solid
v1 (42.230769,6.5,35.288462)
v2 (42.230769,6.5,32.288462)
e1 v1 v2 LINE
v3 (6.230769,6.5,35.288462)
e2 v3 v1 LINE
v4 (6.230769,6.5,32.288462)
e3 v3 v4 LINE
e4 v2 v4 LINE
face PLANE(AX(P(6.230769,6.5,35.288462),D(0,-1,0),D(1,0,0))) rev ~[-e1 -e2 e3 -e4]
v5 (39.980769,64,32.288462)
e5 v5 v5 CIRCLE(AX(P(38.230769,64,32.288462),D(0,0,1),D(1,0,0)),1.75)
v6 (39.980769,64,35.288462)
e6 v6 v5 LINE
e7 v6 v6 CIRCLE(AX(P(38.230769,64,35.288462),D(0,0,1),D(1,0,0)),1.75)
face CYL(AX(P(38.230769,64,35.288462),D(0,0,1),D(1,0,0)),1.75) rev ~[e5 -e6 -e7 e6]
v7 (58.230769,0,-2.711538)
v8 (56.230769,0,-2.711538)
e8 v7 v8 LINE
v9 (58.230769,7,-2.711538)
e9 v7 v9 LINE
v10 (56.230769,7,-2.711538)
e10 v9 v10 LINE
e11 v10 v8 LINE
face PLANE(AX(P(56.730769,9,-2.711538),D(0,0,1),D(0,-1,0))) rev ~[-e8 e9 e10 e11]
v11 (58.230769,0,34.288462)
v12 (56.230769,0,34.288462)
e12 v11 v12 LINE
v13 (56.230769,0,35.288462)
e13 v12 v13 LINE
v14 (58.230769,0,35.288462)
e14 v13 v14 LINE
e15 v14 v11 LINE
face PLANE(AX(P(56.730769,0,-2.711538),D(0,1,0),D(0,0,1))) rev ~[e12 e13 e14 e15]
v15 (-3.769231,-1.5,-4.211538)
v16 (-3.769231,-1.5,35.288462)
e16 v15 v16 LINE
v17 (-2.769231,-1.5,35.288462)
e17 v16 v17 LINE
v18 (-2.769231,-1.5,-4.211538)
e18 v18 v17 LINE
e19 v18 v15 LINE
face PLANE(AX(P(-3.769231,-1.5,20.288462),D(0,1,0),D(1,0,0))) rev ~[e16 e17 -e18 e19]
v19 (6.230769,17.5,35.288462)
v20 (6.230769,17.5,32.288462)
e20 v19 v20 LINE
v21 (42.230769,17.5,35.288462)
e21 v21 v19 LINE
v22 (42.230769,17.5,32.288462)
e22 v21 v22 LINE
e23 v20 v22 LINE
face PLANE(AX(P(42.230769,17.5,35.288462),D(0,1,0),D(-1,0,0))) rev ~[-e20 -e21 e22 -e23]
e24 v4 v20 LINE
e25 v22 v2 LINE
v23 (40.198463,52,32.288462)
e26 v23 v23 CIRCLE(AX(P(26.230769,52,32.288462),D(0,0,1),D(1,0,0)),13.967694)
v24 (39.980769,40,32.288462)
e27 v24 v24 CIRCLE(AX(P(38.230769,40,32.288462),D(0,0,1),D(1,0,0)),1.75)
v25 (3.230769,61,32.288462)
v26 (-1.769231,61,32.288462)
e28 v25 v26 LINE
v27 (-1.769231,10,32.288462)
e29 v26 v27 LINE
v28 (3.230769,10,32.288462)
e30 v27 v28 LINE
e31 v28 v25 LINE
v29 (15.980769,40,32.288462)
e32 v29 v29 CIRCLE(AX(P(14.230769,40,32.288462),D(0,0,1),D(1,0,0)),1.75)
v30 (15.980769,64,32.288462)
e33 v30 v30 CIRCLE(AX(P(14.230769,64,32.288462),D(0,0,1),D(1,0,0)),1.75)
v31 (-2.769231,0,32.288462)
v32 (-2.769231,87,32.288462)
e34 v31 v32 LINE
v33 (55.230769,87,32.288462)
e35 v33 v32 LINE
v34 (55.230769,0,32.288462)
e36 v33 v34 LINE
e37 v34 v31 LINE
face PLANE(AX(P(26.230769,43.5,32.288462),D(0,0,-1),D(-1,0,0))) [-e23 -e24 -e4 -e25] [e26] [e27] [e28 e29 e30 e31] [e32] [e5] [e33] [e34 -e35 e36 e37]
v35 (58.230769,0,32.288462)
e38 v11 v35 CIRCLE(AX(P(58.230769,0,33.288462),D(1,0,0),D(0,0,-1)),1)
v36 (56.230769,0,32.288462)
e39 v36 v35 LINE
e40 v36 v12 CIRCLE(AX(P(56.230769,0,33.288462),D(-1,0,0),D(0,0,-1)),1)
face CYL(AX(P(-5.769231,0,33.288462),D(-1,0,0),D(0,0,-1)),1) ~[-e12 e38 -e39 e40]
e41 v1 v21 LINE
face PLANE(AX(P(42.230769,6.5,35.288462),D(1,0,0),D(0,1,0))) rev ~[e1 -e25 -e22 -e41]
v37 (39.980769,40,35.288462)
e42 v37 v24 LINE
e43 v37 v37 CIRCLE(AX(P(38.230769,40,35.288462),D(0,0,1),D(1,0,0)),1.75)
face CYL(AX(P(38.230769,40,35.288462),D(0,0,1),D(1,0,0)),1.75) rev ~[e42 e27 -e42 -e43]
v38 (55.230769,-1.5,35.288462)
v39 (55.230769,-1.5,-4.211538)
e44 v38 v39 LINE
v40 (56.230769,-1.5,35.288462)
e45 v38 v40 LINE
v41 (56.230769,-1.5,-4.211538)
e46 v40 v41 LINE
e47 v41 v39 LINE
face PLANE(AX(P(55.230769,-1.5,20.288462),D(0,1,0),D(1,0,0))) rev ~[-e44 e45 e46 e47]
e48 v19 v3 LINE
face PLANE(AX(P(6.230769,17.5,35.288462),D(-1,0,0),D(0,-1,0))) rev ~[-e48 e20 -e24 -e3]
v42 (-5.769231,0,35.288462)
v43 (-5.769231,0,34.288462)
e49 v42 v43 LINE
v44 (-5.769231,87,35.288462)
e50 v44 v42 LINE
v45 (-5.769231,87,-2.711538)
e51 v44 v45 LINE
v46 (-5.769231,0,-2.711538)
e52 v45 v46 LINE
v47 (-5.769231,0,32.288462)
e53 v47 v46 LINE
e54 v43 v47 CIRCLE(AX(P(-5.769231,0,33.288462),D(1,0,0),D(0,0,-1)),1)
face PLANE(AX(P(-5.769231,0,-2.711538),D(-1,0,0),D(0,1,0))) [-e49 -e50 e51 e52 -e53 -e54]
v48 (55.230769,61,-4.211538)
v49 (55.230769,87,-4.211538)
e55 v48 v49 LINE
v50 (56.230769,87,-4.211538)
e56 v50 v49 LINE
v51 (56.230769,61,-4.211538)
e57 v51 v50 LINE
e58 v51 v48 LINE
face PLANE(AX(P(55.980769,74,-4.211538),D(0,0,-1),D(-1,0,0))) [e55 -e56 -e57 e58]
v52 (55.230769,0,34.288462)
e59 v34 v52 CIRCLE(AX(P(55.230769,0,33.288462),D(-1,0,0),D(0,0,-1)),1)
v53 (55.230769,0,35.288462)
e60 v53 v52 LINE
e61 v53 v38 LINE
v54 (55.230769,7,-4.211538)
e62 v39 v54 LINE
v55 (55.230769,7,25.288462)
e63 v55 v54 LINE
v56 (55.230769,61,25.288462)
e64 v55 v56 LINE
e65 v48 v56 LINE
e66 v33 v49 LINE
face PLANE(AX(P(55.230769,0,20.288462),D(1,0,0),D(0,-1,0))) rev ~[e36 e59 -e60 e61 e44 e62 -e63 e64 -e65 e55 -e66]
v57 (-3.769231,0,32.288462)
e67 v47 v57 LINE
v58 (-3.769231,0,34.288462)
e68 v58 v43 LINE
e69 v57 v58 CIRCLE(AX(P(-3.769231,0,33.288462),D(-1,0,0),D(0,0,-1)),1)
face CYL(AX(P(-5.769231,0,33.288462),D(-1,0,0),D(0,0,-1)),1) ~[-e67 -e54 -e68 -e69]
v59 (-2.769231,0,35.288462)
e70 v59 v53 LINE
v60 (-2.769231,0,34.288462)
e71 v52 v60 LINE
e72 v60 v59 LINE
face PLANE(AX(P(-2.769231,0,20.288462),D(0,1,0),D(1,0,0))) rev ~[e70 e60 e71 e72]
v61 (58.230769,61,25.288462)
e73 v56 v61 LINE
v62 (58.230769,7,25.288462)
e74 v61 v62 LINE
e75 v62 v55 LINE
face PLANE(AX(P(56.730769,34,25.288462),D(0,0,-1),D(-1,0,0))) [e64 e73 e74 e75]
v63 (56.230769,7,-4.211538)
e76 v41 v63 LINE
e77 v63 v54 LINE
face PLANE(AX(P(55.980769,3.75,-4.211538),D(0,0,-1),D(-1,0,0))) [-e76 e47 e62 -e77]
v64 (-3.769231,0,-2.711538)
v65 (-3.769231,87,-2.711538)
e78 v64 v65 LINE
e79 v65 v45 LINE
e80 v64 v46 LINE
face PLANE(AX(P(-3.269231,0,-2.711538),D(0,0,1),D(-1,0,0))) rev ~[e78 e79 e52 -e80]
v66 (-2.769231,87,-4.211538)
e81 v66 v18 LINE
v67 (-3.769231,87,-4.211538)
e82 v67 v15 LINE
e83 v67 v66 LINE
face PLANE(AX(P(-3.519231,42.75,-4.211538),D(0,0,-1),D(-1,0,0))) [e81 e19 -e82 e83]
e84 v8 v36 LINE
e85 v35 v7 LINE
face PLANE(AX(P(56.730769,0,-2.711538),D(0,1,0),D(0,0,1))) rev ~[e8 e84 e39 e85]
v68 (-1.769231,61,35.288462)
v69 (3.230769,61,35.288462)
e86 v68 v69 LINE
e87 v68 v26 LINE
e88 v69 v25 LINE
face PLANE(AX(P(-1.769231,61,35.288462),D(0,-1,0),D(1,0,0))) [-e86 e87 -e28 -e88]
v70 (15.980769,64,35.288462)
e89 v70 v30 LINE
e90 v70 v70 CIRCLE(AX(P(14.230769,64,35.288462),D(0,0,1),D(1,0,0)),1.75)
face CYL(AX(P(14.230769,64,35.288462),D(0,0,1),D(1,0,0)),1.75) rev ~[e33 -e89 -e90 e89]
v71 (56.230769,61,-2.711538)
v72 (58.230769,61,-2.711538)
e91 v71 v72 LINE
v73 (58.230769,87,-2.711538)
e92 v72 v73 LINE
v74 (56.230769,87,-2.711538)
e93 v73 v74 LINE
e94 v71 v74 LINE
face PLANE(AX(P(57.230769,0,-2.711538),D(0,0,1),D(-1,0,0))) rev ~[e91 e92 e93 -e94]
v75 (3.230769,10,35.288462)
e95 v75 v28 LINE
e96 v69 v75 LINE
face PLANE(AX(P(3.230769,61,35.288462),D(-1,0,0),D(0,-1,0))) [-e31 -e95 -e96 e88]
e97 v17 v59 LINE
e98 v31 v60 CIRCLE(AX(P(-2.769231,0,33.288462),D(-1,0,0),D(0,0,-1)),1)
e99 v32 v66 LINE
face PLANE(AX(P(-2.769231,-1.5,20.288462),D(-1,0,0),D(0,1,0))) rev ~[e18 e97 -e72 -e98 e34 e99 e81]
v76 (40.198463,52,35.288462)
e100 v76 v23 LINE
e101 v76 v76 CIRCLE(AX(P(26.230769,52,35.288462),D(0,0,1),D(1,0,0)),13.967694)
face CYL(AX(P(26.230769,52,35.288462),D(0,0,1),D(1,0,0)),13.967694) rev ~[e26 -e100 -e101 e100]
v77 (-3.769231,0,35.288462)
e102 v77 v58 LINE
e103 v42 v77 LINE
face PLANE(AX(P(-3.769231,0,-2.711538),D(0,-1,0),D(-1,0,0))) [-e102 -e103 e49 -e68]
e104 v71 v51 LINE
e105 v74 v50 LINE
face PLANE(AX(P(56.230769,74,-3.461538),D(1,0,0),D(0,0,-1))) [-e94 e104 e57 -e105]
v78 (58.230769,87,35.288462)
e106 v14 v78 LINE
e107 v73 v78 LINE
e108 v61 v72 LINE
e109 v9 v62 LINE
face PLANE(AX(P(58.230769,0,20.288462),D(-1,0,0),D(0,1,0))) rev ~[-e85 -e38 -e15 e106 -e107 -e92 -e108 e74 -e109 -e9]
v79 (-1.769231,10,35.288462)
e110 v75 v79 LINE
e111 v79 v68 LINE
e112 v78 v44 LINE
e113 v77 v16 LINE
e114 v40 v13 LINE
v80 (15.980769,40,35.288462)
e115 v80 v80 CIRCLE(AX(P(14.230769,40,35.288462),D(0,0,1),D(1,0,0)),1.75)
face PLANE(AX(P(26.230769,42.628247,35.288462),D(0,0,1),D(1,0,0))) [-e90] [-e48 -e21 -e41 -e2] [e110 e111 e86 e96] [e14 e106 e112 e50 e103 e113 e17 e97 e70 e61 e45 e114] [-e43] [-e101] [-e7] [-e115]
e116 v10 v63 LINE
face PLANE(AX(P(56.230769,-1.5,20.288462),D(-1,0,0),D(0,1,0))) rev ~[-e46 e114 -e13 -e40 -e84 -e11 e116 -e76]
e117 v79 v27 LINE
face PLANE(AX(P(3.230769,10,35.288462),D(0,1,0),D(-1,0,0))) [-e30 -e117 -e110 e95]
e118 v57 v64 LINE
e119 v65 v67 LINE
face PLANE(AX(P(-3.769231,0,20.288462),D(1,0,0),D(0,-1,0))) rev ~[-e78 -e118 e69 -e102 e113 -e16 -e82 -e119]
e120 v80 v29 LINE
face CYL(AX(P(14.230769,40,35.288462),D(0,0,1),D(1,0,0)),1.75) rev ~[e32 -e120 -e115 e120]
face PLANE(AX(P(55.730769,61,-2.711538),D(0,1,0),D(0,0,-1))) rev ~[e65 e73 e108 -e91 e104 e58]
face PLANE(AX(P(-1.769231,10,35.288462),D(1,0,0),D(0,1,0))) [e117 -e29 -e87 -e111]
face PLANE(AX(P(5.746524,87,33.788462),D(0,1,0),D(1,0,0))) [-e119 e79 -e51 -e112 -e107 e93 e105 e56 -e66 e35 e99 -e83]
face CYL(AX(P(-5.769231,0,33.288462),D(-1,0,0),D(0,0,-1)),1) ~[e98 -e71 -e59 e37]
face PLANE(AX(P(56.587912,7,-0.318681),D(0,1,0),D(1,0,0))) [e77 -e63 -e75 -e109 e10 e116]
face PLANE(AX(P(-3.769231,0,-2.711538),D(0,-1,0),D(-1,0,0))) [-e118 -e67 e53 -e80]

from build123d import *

# Parameters (mm, degrees)
EXTRUDE_1_DEPTH      = 88
SKETCH_3_W           = 1.5000000000000007
SKETCH_3_H           = 22
SKETCH_3_W_2         = 1.5
EXTRUDE_2_DEPTH      = 3
CUT_EXTRUDE_1_DEPTH  = 13.000000000000005
CUT_EXTRUDE_2_DEPTH  = 6
SKETCH_7_W           = 1.5
SKETCH_7_H           = 3
SKETCH_7_W_2         = 1.5000000000000007
EXTRUDE_4_DEPTH      = 3
EXTRUDE_START        = -62
SKETCH_6_R           = 1.0000000000000016
EXTRUDE_7_DEPTH      = 62
EXTRUDE_START_2      = 1
EXTRUDE_8_DEPTH      = 1
EXTRUDE_9_DEPTH      = 1
EXTRUDE_10_DEPTH     = 1
EXTRUDE_11_DEPTH     = 1
EXTRUDE_12_DEPTH     = 1
CUT_EXTRUDE_3_DEPTH  = 1
CUT_EXTRUDE_START    = -1
CUT_EXTRUDE_4_DEPTH  = 1
CUT_EXTRUDE_5_DEPTH  = 1
SKETCH_16_W          = 1.500000000000007
SKETCH_16_H          = 25
CUT_EXTRUDE_6_DEPTH  = 1
SKETCH_17_W          = 1.5000000000000004
SKETCH_17_H          = 90
CUT_EXTRUDE_7_DEPTH  = 1
CUT_EXTRUDE_8_DEPTH  = 1
SKETCH_19_W          = 1.500000000000007
SKETCH_19_H          = 26.999999999999993
CUT_EXTRUDE_9_DEPTH  = 1
EXTRUDE_13_DEPTH     = 1
CUT_EXTRUDE_10_DEPTH = 1
CUT_EXTRUDE_11_DEPTH = 1
CUT_EXTRUDE_12_DEPTH = 0.5
CUT_EXTRUDE_13_DEPTH = 0.5
CUT_EXTRUDE_14_DEPTH = 0.5
SKETCH_26_W          = 1.500000000000007
SKETCH_26_H          = 25.999999999999993
CUT_EXTRUDE_15_DEPTH = 0.5
CUT_EXTRUDE_16_DEPTH = 0.5
CUT_EXTRUDE_START_2  = -0.5
CUT_EXTRUDE_17_DEPTH = 0.5
SKETCH_29_W          = 1.4999999999999991
SKETCH_29_H          = 25.999999999999993
CUT_EXTRUDE_18_DEPTH = 0.5
CUT_EXTRUDE_19_DEPTH = 0.5
EXTRUDE_14_DEPTH     = 15
CUT_EXTRUDE_20_DEPTH = 15
SKETCH_33_R          = 1.0000000000000016
CUT_EXTRUDE_21_DEPTH = 114.62339335608438
CUT_EXTRUDE_22_DEPTH = 2
EXTRUDE_15_DEPTH     = 26.00000000000001
EXTRUDE_16_DEPTH     = 26.00000000000001
SKETCH_37_W          = 2.0000000000000004
SKETCH_37_H          = 87
EXTRUDE_17_DEPTH     = 26.00000000000001
EXTRUDE_18_DEPTH     = 28.000000000000025
SKETCH_40_R          = 1.7500000000000038
SKETCH_40_R_2        = 13.967693526781561
SKETCH_40_R_3        = 4.000000000000002
SKETCH_40_R_4        = 4
CUT_EXTRUDE_23_DEPTH = 28.000000000000025
CUT_EXTRUDE_25_DEPTH = 22.000000000000007
SKETCH_43_W          = 11.493047427713066
SKETCH_43_H          = 3
SKETCH_43_W_2        = 11.493047427713059
EXTRUDE_19_DEPTH     = 73.00000000000001
CUT_EXTRUDE_26_DEPTH = 73.00000000000001
EXTRUDE_START_3      = -64
SKETCH_45_R          = 0.9999999999999983
EXTRUDE_21_DEPTH     = 64


with BuildPart() as part:
    # 草图2 → 凸台-拉伸1 (new body)
    with BuildSketch(Plane(origin=(0, 0, 0), x_dir=(1, 0, 0), z_dir=(0, 1, 0))):
        Polygon((-3.2692307692307776, 5.711538461538465), (-3.269230769230777, 2.711538461538465), (-4.769230769230776, 2.711538461538465), (-4.7692307692307745, -19.288461538461533), (57.230769230769226, -19.288461538461533), (57.230769230769226, 2.7115384615384723), (55.73076923076922, 2.7115384615384723), (55.73076923076922, 5.711538461538472), (54.23076923076922, 5.711538461538473), (54.23076923076922, -16.288461538461526), (-1.7692307692307774, -16.288461538461533), (-1.7692307692307776, 5.711538461538466), align=None)
    extrude(amount=EXTRUDE_1_DEPTH)

    # 草图3 → 凸台-拉伸2 (add)
    with BuildSketch(Plane.XZ):
        with Locations((-2.5192307692307776, 5.288461538461534)):
            Rectangle(SKETCH_3_W, SKETCH_3_H)
        with Locations((54.98076923076922, 5.288461538461534)):
            Rectangle(SKETCH_3_W_2, SKETCH_3_H)
    extrude(amount=EXTRUDE_2_DEPTH)

    # 草图4 → 切除-拉伸1 (cut)
    with BuildSketch(Plane(origin=(0, 0, -2.7115384615384723), x_dir=(-1, 0, 0), z_dir=(0, 0, -1))):
        Polygon((-55.73076923076922, 16.689999999999998), (-54.23076923076922, 16.69), (-54.23076923076922, 44.69), (-55.73076923076922, 44.69), align=None)
    extrude(amount=CUT_EXTRUDE_1_DEPTH, mode=Mode.SUBTRACT)

    # 草图5 → 切除-拉伸2 (cut, symmetric)
    with BuildSketch(Plane(origin=(0, 0, -2.7115384615384723), x_dir=(-1, 0, 0), z_dir=(0, 0, -1))):
        Polygon((-57.230769230769226, 8.999999999999995), (-54.23076923076922, 8.999999999999998), (-54.23076923076922, 61), (-57.230769230769226, 61), align=None)
    extrude(amount=CUT_EXTRUDE_2_DEPTH, both=True, mode=Mode.SUBTRACT)

    # 草图7 → 凸台-拉伸4 (add)
    with BuildSketch(Plane.XY.offset(16.288461538461533)):
        with Locations((54.98076923076922, -1.5)):
            Rectangle(SKETCH_7_W, SKETCH_7_H)
        with Locations((-2.5192307692307776, -1.5)):
            Rectangle(SKETCH_7_W_2, SKETCH_7_H)
    extrude(amount=EXTRUDE_4_DEPTH)

    # 草图6 → 凸台-拉伸7 (add)
    with BuildSketch(Plane.ZY.offset(4.769230769230776).offset(EXTRUDE_START)):
        with Locations((17.28846154, 0)):
            Circle(SKETCH_6_R)
    extrude(amount=EXTRUDE_7_DEPTH)

    # 草图8 → 凸台-拉伸8 (add)
    with BuildSketch(Plane(origin=(57.230769230769226, 0, 0), x_dir=(0, 0, -1), z_dir=(1, 0, 0)).offset(EXTRUDE_START_2)):
        with BuildLine():
            Line((-19.288461538461533, 0), (-18.28846154, 0))
            ThreePointArc((-18.28846154, 0), (-17.288461539999997, -1.0000000000000036), (-16.288461539999997, 0))
            Line((-16.288461539999997, 0), (2.7115384615384723, 0))
            Line((2.7115384615384723, 0), (2.7115384615384723, 8.999999999999995))
            Line((2.7115384615384723, 8.999999999999995), (-3.288461538461528, 8.999999999999995))
            Line((-3.288461538461528, 8.999999999999995), (-3.288461538461528, 61))
            Line((-3.288461538461528, 61), (2.711538461538472, 61))
            Line((2.711538461538472, 61), (2.7115384615384723, 88))
            Line((2.7115384615384723, 88), (-19.288461538461533, 88))
            Line((-19.288461538461533, 88), (-19.288461538461533, 0))
        make_face()
    extrude(amount=-EXTRUDE_8_DEPTH)

    # 草图9 → 凸台-拉伸9 (add)
    with BuildSketch(Plane.ZY.offset(4.769230769230776)):
        with BuildLine():
            Line((-2.7115384615384652, 0), (16.28846154, 0))
            ThreePointArc((16.28846154, 0), (17.28846154, -1), (18.288461540000004, 0))
            Line((18.288461540000004, 0), (19.288461538461533, 0))
            Line((19.288461538461533, 0), (19.288461538461533, 88))
            Line((19.288461538461533, 88), (-2.7115384615384652, 88))
            Line((-2.7115384615384652, 88), (-2.7115384615384652, 0))
        make_face()
    extrude(amount=EXTRUDE_9_DEPTH)

    # 草图10 → 凸台-拉伸10 (add)
    with BuildSketch(Plane.ZY.offset(3.2692307692307767)):
        with BuildLine():
            Line((19.288461538461533, 0), (18.288461540000004, 0))
            ThreePointArc((18.288461540000004, 0), (17.28846154, -1), (16.28846154, 1.2e-16))
            Line((16.28846154, 1.2e-16), (-2.7115384615384652, 0))
            Line((-2.7115384615384652, 0), (-2.7115384615384652, 88))
            Line((-2.7115384615384652, 88), (-5.711538461538466, 88))
            Line((-5.711538461538466, 88), (-5.711538461538466, -3))
            Line((-5.711538461538466, -3), (19.288461538461533, -3))
            Line((19.288461538461533, -3), (19.288461538461533, 0))
        make_face()
    extrude(amount=EXTRUDE_10_DEPTH)

    # 草图11 → 凸台-拉伸11 (add)
    with BuildSketch(Plane(origin=(55.73076923076922, 0, 0), x_dir=(0, 0, -1), z_dir=(1, 0, 0)).offset(EXTRUDE_START_2)):
        with BuildLine():
            Line((2.7115384615384723, 0), (-16.288461539999997, 0))
            ThreePointArc((-16.288461539999997, 0), (-17.288461539999997, -1.0000000000000036), (-18.28846154, 1.2e-16))
            Line((-18.28846154, 1.2e-16), (-19.288461538461533, 0))
            Line((-19.288461538461533, 0), (-19.288461538461533, -3))
            Line((-19.288461538461533, -3), (5.711538461538465, -3))
            Line((5.711538461538465, -3), (5.711538461538476, 8.999999999999995))
            Line((5.711538461538476, 8.999999999999995), (2.7115384615384723, 8.999999999999996))
            Line((2.7115384615384723, 8.999999999999996), (2.7115384615384723, 0))
        make_face()
    extrude(amount=-EXTRUDE_11_DEPTH)

    # 草图12 → 凸台-拉伸12 (add)
    with BuildSketch(Plane(origin=(55.73076923076922, 0, 0), x_dir=(0, 0, -1), z_dir=(1, 0, 0))):
        Polygon((2.7115384615384723, 88), (2.7115384615384723, 61), (5.711538461538476, 61), (5.711538461538472, 88), align=None)
    extrude(amount=EXTRUDE_12_DEPTH)

    # 草图13 → 切除-拉伸3 (cut)
    with BuildSketch(Plane(origin=(-1.7692307692307776, 0, 3e-17), x_dir=(-2e-17, 0, -1), z_dir=(1, 0, -2e-17))):
        with BuildLine():
            Line((-16.288461538461533, 88), (-16.28846154, 0))
            ThreePointArc((-16.28846154, 0), (-17.28846154, -1.0000000000000036), (-18.288461540000004, 1.2e-16))
            Line((-18.288461540000004, 1.2e-16), (-19.288461538461533, 0))
            Line((-19.288461538461533, 0), (-19.288461538461533, -3))
            Line((-19.288461538461533, -3), (5.711538461538465, -3))
            Line((5.711538461538465, -3), (5.711538461538466, 88))
            Line((5.711538461538466, 88), (-16.288461538461533, 88))
        make_face()
    extrude(amount=-CUT_EXTRUDE_3_DEPTH, mode=Mode.SUBTRACT)

    # 草图14 → 切除-拉伸4 (cut)
    with BuildSketch(Plane.ZY.offset(-54.23076923076922).offset(CUT_EXTRUDE_START)):
        with BuildLine():
            Line((19.288461538461533, 0), (18.28846154, 0))
            ThreePointArc((18.28846154, 0), (17.288461539999997, -1.0000000003846203), (16.288461539615376, 1.2e-16))
            Line((16.288461539615376, 1.2e-16), (16.288461538461526, 88))
            Line((16.288461538461526, 88), (-5.711538461538473, 88))
            Line((-5.711538461538473, 88), (-5.711538461538476, 61))
            Line((-5.711538461538476, 61), (3.288461538461528, 61))
            Line((3.288461538461528, 61), (3.288461538461528, 8.999999999999998))
            Line((3.288461538461528, 8.999999999999998), (-5.711538461538476, 8.999999999999998))
            Line((-5.711538461538476, 8.999999999999998), (-5.711538461538465, -3))
            Line((-5.711538461538465, -3), (19.288461538461533, -3))
            Line((19.288461538461533, -3), (19.288461538461533, 0))
        make_face()
    extrude(amount=CUT_EXTRUDE_4_DEPTH, mode=Mode.SUBTRACT)

    # 草图15 → 切除-拉伸5 (cut)
    with BuildSketch(Plane.XZ.offset(3)):
        Polygon((-2.7692307692307776, -5.711538461538465), (-2.769230769230777, 19.288461538461533), (-4.2692307692307745, 19.288461538461533), (-4.269230769230778, -5.711538461538465), align=None)
    extrude(amount=-CUT_EXTRUDE_5_DEPTH, mode=Mode.SUBTRACT)

    # 草图16 → 切除-拉伸6 (cut)
    with BuildSketch(Plane.XZ.offset(3)):
        with Locations((55.980769230769226, 6.788461538461534)):
            Rectangle(SKETCH_16_W, SKETCH_16_H)
    extrude(amount=-CUT_EXTRUDE_6_DEPTH, mode=Mode.SUBTRACT)

    # 草图17 → 切除-拉伸7 (cut)
    with BuildSketch(Plane(origin=(-3.3e-15, 0, -5.711538461538467), x_dir=(-1, 0, 5.8e-16), z_dir=(-5.8e-16, 0, -1))):
        with Locations((3.5192307692307745, 43)):
            Rectangle(SKETCH_17_W, SKETCH_17_H)
    extrude(amount=-CUT_EXTRUDE_7_DEPTH, mode=Mode.SUBTRACT)

    # 草图18 → 切除-拉伸8 (cut)
    with BuildSketch(Plane(origin=(3.3e-15, 0, -5.711538461538505), x_dir=(-1, 0, -5.8e-16), z_dir=(5.8e-16, 0, -1))):
        Polygon((-56.730769230769226, -2), (-55.23076923076922, -2), (-55.23076923076922, 8.999999999999998), (-56.730769230769226, 8.999999999999995), align=None)
    extrude(amount=-CUT_EXTRUDE_8_DEPTH, mode=Mode.SUBTRACT)

    # 草图19 → 切除-拉伸9 (cut)
    with BuildSketch(Plane(origin=(3.3e-15, 0, -5.711538461538505), x_dir=(-1, 0, -5.8e-16), z_dir=(5.8e-16, 0, -1))):
        with Locations((-55.980769230769226, 74.5)):
            Rectangle(SKETCH_19_W, SKETCH_19_H)
    extrude(amount=-CUT_EXTRUDE_9_DEPTH, mode=Mode.SUBTRACT)

    # 草图20 → 凸台-拉伸13 (add)
    with BuildSketch(Plane.XY.offset(19.288461538461533)):
        Polygon((55.23076923076922, -2), (56.730769230769226, -2), (56.730769230769226, 0), (58.230769230769226, 0), (58.230769230769226, 88), (-5.7692307692307745, 88), (-5.7692307692307745, 0), (-4.2692307692307745, 0), (-4.2692307692307745, -2), (-2.769230769230777, -2), (-2.769230769230777, 0), (55.23076923076922, 0), align=None)
    extrude(amount=EXTRUDE_13_DEPTH)

    # 草图21 → 切除-拉伸10 (cut)
    with BuildSketch(Plane(origin=(2.02e-15, 0, 16.288461538461533), x_dir=(-1, 0, 1.2e-16), z_dir=(-1.2e-16, 0, -1))):
        Polygon((-55.23076923076922, 1.2e-16), (2.7692307692307794, 0), (2.7692307692307794, 88), (-55.23076923076922, 88), align=None)
    extrude(amount=-CUT_EXTRUDE_10_DEPTH, mode=Mode.SUBTRACT)

    # 草图22 → 切除-拉伸11 (cut)
    with BuildSketch(Plane(origin=(0, 88, 0), x_dir=(1, 0, 0), z_dir=(0, 1, 0))):
        Polygon((55.23076923076922, 4.711538461538472), (55.23076923076922, -17.288461538461526), (-2.769230769230777, -17.288461538461533), (-2.769230769230777, 4.711538461538465), (-4.269230769230777, 4.711538461538464), (-4.269230769230776, 2.711538461538465), (-5.769230769230776, 2.711538461538465), (-5.7692307692307745, -20.288461538461533), (58.230769230769226, -20.288461538461533), (58.230769230769226, 2.7115384615384723), (56.730769230769226, 2.7115384615384723), (56.730769230769226, 4.7115384615384714), align=None)
    extrude(amount=-CUT_EXTRUDE_11_DEPTH, mode=Mode.SUBTRACT)

    # 草图23 → 切除-拉伸12 (cut)
    with BuildSketch(Plane.XZ.offset(2)):
        Polygon((-4.2692307692307745, 20.288461538461533), (-4.269230769230777, -4.711538461538464), (-2.7692307692307776, -4.711538461538465), (-2.769230769230777, 20.288461538461533), align=None)
    extrude(amount=-CUT_EXTRUDE_12_DEPTH, mode=Mode.SUBTRACT)

    # 草图24 → 切除-拉伸13 (cut)
    with BuildSketch(Plane.XZ.offset(2)):
        Polygon((55.23076923076922, 20.288461538461533), (55.23076923076922, -4.711538461538472), (56.730769230769226, -4.7115384615384714), (56.730769230769226, 20.288461538461533), align=None)
    extrude(amount=-CUT_EXTRUDE_13_DEPTH, mode=Mode.SUBTRACT)

    # 草图25 → 切除-拉伸14 (cut)
    with BuildSketch(Plane(origin=(-2.72e-15, 0, -4.711538461538467), x_dir=(-1, 0, 5.8e-16), z_dir=(-5.8e-16, 0, -1))):
        Polygon((2.7692307692307745, 87), (2.769230769230775, -1.5), (4.2692307692307745, -1.5), (4.2692307692307745, 87), align=None)
    extrude(amount=-CUT_EXTRUDE_14_DEPTH, mode=Mode.SUBTRACT)

    # 草图26 → 切除-拉伸15 (cut)
    with BuildSketch(Plane(origin=(2.72e-15, 0, -4.711538461538505), x_dir=(-1, 0, -5.8e-16), z_dir=(5.8e-16, 0, -1))):
        with Locations((-55.980769230769226, 74)):
            Rectangle(SKETCH_26_W, SKETCH_26_H)
    extrude(amount=-CUT_EXTRUDE_15_DEPTH, mode=Mode.SUBTRACT)

    # 草图27 → 切除-拉伸16 (cut)
    with BuildSketch(Plane(origin=(2.72e-15, 0, -4.711538461538505), x_dir=(-1, 0, -5.8e-16), z_dir=(5.8e-16, 0, -1))):
        Polygon((-56.730769230769226, 8.999999999999995), (-56.730769230769226, -1.5), (-55.23076923076922, -1.5), (-55.23076923076922, 8.999999999999998), align=None)
    extrude(amount=-CUT_EXTRUDE_16_DEPTH, mode=Mode.SUBTRACT)

    # 草图28 → 切除-拉伸17 (cut)
    with BuildSketch(Plane.ZY.offset(4.269230769230777).offset(CUT_EXTRUDE_START_2)):
        with BuildLine():
            Line((-2.7115384615384652, 87), (-4.211538461538465, 87))
            Line((-4.211538461538465, 87), (-4.211538461538465, -1.5))
            Line((-4.211538461538465, -1.5), (20.288461538461533, -1.5))
            Line((20.288461538461533, -1.5), (20.288461538461533, 0))
            Line((20.288461538461533, 0), (18.288461540000004, 0))
            ThreePointArc((18.288461540000004, 0), (17.28846154, -1), (16.28846154, 1.2e-16))
            Line((16.28846154, 1.2e-16), (-2.7115384615384652, 0))
            Line((-2.7115384615384652, 0), (-2.7115384615384652, 87))
        make_face()
    extrude(amount=CUT_EXTRUDE_17_DEPTH, mode=Mode.SUBTRACT)

    # 草图29 → 切除-拉伸18 (cut)
    with BuildSketch(Plane(origin=(56.730769230769226, 0, 0), x_dir=(0, 0, -1), z_dir=(1, 0, 0))):
        with Locations((3.461538461538472, 74)):
            Rectangle(SKETCH_29_W, SKETCH_29_H)
    extrude(amount=-CUT_EXTRUDE_18_DEPTH, mode=Mode.SUBTRACT)

    # 草图30 → 切除-拉伸19 (cut)
    with BuildSketch(Plane(origin=(56.730769230769226, 0, 0), x_dir=(0, 0, -1), z_dir=(1, 0, 0))):
        with BuildLine():
            Line((-20.288461538461533, -1.5), (4.2115384615384714, -1.5))
            Line((4.2115384615384714, -1.5), (4.2115384615384714, 8.999999999999995))
            Line((4.2115384615384714, 8.999999999999995), (2.7115384615384723, 8.999999999999995))
            Line((2.7115384615384723, 8.999999999999995), (2.7115384615384723, 0))
            Line((2.7115384615384723, 0), (-16.288461539999997, 0))
            ThreePointArc((-16.288461539999997, 0), (-17.288461539999997, -1.0000000000000036), (-18.28846154, 1.2e-16))
            Line((-18.28846154, 1.2e-16), (-20.288461538461533, 0))
            Line((-20.288461538461533, 0), (-20.288461538461533, -1.5))
        make_face()
    extrude(amount=-CUT_EXTRUDE_19_DEPTH, mode=Mode.SUBTRACT)

    # 草图31 → 凸台-拉伸14 (add)
    with BuildSketch(Plane.XY.offset(20.288461538461533)):
        Polygon((56.230769230769226, -1.5), (56.230769230769226, 0), (58.230769230769226, 0), (58.230769230769226, 87), (-5.7692307692307745, 87), (-5.7692307692307745, 0), (-3.7692307692307745, 0), (-3.7692307692307745, -1.5), (-2.769230769230777, -1.5), (-2.769230769230777, 0), (55.23076923076922, 0), (55.23076923076922, -1.5), align=None)
    extrude(amount=EXTRUDE_14_DEPTH)

    # 草图32 → 切除-拉伸20 (cut)
    with BuildSketch(Plane(origin=(2.07e-15, 0, 17.288461538461533), x_dir=(-1, 0, 1.2e-16), z_dir=(-1.2e-16, 0, -1))):
        Polygon((2.7692307692307794, 0), (2.7692307692307794, 87), (-55.23076923076922, 87), (-55.23076923076922, 1.2e-16), align=None)
    extrude(amount=-CUT_EXTRUDE_20_DEPTH, mode=Mode.SUBTRACT)

    # 草图33 → 切除-拉伸21 (cut, through all)
    with BuildSketch(Plane.ZY.offset(5.769230769230776)):
        with Locations((17.28846154, 0)):
            Circle(SKETCH_33_R)
    extrude(amount=-CUT_EXTRUDE_21_DEPTH, mode=Mode.SUBTRACT)

    # 草图34 → 切除-拉伸22 (cut)
    with BuildSketch(Plane(origin=(1.041e-14, 9.00000000000006, 0), x_dir=(1, -1.16e-15, 0), z_dir=(1.16e-15, 1, 0))):
        Polygon((58.23076923076922, 2.7115384615384723), (56.23076923076922, 2.7115384615384723), (56.23076923076922, 4.2115384615384714), (55.23076923076921, 4.211538461538473), (55.23076923076921, -3.288461538461528), (58.23076923076922, -3.288461538461528), align=None)
    extrude(amount=-CUT_EXTRUDE_22_DEPTH, mode=Mode.SUBTRACT)

    # 草图35 → 凸台-拉伸15 (add)
    with BuildSketch(Plane(origin=(0, 0, -2.7115384615384723), x_dir=(-1, 0, 0), z_dir=(0, 0, -1))):
        Polygon((-56.230769230769226, 6.999999999999996), (-58.23076923076923, 6.999999999999992), (-58.230769230769226, 0), (-56.230769230769226, 0), align=None)
    extrude(amount=-EXTRUDE_15_DEPTH)

    # 草图36 → 凸台-拉伸16 (add)
    with BuildSketch(Plane(origin=(2.44e-15, 0, -4.211538461538504), x_dir=(-1, 0, -5.8e-16), z_dir=(5.8e-16, 0, -1))):
        Polygon((-55.23076923076922, -1.5), (-55.230769230769226, 6.999999999999996), (-56.23076923076923, 6.999999999999996), (-56.230769230769226, -1.5), align=None)
    extrude(amount=-EXTRUDE_16_DEPTH)

    # 草图37 → 凸台-拉伸17 (add)
    with BuildSketch(Plane(origin=(0, 0, -2.711538461538465), x_dir=(-1, 0, 0), z_dir=(0, 0, -1))):
        with Locations((4.769230769230777, 43.5)):
            Rectangle(SKETCH_37_W, SKETCH_37_H)
    extrude(amount=-EXTRUDE_17_DEPTH)

    # 草图38 → 凸台-拉伸18 (add)
    with BuildSketch(Plane(origin=(-2.44e-15, 0, -4.211538461538466), x_dir=(-1, 0, 5.8e-16), z_dir=(-5.8e-16, 0, -1))):
        Polygon((2.769230769230775, -1.5), (3.769230769230775, -1.5), (3.7692307692307745, 87), (2.769230769230774, 87), align=None)
    extrude(amount=-EXTRUDE_18_DEPTH)

    # 草图40 → 切除-拉伸23 (cut)
    with BuildSketch(Plane.XY.offset(35.28846153846153)):
        with Locations((38.23076923076923, 64)):
            Circle(SKETCH_40_R)
        with Locations((38.23076923076923, 40.00000000000002)):
            Circle(SKETCH_40_R)
        with Locations((14.23076923076921, 40.00000000000002)):
            Circle(SKETCH_40_R)
        with Locations((14.23076923076921, 64)):
            Circle(SKETCH_40_R)
        with Locations((26.230769230769226, 52.000000000000014)):
            Circle(SKETCH_40_R_2)
        with Locations((6.236788059331033, 52.000000000000014)):
            Circle(SKETCH_40_R_3)
        with Locations((6.236788059331033, 75.99999999999999)):
            Circle(SKETCH_40_R_3)
        with Locations((6.236788059331033, 28.000000000000032)):
            Circle(SKETCH_40_R_3)
        with Locations((46.224750402207405, 28.000000000000032)):
            Circle(SKETCH_40_R_4)
        with Locations((46.22475040220741, 52.000000000000014)):
            Circle(SKETCH_40_R_4)
        with Locations((46.22475040220741, 75.99999999999999)):
            Circle(SKETCH_40_R_4)
    extrude(amount=-CUT_EXTRUDE_23_DEPTH, mode=Mode.SUBTRACT)

    # 草图41 → 切除-拉伸25 (cut)
    with BuildSketch(Plane(origin=(0, 0, 3.288461538461528), x_dir=(-1, 0, 0), z_dir=(0, 0, -1))):
        Polygon((-55.230769230769226, 6.999999999999996), (-55.23076923076922, 61), (-58.230769230769226, 61), (-58.23076923076923, 6.999999999999992), align=None)
    extrude(amount=-CUT_EXTRUDE_25_DEPTH, mode=Mode.SUBTRACT)

    # 草图43 → 凸台-拉伸19 (add)
    with BuildSketch(Plane(origin=(0, 87, 0), x_dir=(1, 0, 0), z_dir=(0, 1, 0))):
        with Locations((5.746523713856533, -33.78846153846153)):
            Rectangle(SKETCH_43_W, SKETCH_43_H)
        with Locations((46.95722324843743, -33.78846153846153)):
            Rectangle(SKETCH_43_W_2, SKETCH_43_H)
    extrude(amount=-EXTRUDE_19_DEPTH)

    # 草图44 → 切除-拉伸26 (cut)
    with BuildSketch(Plane.XY.offset(35.28846153846153)):
        Polygon((42.23076923076923, 17.5), (6.230769230769234, 17.499999999999996), (6.230769230769234, 6.4999999999999964), (42.23076923076923, 6.500000000000001), align=None)
        Polygon((-1.7692307692307747, 60.99999999999999), (3.230769230769228, 60.99999999999999), (3.2307692307692415, 9.999999999999996), (-1.7692307692307683, 9.999999999999995), align=None)
    extrude(amount=-CUT_EXTRUDE_26_DEPTH, mode=Mode.SUBTRACT)

    # 草图45 → 凸台-拉伸21 (add)
    with BuildSketch(Plane(origin=(58.230769230769226, 0, 0), x_dir=(0, 0, -1), z_dir=(1, 0, 0)).offset(EXTRUDE_START_3)):
        with Locations((-33.28846153846153, 0)):
            Circle(SKETCH_45_R)
    extrude(amount=EXTRUDE_21_DEPTH)


solid = part.part
